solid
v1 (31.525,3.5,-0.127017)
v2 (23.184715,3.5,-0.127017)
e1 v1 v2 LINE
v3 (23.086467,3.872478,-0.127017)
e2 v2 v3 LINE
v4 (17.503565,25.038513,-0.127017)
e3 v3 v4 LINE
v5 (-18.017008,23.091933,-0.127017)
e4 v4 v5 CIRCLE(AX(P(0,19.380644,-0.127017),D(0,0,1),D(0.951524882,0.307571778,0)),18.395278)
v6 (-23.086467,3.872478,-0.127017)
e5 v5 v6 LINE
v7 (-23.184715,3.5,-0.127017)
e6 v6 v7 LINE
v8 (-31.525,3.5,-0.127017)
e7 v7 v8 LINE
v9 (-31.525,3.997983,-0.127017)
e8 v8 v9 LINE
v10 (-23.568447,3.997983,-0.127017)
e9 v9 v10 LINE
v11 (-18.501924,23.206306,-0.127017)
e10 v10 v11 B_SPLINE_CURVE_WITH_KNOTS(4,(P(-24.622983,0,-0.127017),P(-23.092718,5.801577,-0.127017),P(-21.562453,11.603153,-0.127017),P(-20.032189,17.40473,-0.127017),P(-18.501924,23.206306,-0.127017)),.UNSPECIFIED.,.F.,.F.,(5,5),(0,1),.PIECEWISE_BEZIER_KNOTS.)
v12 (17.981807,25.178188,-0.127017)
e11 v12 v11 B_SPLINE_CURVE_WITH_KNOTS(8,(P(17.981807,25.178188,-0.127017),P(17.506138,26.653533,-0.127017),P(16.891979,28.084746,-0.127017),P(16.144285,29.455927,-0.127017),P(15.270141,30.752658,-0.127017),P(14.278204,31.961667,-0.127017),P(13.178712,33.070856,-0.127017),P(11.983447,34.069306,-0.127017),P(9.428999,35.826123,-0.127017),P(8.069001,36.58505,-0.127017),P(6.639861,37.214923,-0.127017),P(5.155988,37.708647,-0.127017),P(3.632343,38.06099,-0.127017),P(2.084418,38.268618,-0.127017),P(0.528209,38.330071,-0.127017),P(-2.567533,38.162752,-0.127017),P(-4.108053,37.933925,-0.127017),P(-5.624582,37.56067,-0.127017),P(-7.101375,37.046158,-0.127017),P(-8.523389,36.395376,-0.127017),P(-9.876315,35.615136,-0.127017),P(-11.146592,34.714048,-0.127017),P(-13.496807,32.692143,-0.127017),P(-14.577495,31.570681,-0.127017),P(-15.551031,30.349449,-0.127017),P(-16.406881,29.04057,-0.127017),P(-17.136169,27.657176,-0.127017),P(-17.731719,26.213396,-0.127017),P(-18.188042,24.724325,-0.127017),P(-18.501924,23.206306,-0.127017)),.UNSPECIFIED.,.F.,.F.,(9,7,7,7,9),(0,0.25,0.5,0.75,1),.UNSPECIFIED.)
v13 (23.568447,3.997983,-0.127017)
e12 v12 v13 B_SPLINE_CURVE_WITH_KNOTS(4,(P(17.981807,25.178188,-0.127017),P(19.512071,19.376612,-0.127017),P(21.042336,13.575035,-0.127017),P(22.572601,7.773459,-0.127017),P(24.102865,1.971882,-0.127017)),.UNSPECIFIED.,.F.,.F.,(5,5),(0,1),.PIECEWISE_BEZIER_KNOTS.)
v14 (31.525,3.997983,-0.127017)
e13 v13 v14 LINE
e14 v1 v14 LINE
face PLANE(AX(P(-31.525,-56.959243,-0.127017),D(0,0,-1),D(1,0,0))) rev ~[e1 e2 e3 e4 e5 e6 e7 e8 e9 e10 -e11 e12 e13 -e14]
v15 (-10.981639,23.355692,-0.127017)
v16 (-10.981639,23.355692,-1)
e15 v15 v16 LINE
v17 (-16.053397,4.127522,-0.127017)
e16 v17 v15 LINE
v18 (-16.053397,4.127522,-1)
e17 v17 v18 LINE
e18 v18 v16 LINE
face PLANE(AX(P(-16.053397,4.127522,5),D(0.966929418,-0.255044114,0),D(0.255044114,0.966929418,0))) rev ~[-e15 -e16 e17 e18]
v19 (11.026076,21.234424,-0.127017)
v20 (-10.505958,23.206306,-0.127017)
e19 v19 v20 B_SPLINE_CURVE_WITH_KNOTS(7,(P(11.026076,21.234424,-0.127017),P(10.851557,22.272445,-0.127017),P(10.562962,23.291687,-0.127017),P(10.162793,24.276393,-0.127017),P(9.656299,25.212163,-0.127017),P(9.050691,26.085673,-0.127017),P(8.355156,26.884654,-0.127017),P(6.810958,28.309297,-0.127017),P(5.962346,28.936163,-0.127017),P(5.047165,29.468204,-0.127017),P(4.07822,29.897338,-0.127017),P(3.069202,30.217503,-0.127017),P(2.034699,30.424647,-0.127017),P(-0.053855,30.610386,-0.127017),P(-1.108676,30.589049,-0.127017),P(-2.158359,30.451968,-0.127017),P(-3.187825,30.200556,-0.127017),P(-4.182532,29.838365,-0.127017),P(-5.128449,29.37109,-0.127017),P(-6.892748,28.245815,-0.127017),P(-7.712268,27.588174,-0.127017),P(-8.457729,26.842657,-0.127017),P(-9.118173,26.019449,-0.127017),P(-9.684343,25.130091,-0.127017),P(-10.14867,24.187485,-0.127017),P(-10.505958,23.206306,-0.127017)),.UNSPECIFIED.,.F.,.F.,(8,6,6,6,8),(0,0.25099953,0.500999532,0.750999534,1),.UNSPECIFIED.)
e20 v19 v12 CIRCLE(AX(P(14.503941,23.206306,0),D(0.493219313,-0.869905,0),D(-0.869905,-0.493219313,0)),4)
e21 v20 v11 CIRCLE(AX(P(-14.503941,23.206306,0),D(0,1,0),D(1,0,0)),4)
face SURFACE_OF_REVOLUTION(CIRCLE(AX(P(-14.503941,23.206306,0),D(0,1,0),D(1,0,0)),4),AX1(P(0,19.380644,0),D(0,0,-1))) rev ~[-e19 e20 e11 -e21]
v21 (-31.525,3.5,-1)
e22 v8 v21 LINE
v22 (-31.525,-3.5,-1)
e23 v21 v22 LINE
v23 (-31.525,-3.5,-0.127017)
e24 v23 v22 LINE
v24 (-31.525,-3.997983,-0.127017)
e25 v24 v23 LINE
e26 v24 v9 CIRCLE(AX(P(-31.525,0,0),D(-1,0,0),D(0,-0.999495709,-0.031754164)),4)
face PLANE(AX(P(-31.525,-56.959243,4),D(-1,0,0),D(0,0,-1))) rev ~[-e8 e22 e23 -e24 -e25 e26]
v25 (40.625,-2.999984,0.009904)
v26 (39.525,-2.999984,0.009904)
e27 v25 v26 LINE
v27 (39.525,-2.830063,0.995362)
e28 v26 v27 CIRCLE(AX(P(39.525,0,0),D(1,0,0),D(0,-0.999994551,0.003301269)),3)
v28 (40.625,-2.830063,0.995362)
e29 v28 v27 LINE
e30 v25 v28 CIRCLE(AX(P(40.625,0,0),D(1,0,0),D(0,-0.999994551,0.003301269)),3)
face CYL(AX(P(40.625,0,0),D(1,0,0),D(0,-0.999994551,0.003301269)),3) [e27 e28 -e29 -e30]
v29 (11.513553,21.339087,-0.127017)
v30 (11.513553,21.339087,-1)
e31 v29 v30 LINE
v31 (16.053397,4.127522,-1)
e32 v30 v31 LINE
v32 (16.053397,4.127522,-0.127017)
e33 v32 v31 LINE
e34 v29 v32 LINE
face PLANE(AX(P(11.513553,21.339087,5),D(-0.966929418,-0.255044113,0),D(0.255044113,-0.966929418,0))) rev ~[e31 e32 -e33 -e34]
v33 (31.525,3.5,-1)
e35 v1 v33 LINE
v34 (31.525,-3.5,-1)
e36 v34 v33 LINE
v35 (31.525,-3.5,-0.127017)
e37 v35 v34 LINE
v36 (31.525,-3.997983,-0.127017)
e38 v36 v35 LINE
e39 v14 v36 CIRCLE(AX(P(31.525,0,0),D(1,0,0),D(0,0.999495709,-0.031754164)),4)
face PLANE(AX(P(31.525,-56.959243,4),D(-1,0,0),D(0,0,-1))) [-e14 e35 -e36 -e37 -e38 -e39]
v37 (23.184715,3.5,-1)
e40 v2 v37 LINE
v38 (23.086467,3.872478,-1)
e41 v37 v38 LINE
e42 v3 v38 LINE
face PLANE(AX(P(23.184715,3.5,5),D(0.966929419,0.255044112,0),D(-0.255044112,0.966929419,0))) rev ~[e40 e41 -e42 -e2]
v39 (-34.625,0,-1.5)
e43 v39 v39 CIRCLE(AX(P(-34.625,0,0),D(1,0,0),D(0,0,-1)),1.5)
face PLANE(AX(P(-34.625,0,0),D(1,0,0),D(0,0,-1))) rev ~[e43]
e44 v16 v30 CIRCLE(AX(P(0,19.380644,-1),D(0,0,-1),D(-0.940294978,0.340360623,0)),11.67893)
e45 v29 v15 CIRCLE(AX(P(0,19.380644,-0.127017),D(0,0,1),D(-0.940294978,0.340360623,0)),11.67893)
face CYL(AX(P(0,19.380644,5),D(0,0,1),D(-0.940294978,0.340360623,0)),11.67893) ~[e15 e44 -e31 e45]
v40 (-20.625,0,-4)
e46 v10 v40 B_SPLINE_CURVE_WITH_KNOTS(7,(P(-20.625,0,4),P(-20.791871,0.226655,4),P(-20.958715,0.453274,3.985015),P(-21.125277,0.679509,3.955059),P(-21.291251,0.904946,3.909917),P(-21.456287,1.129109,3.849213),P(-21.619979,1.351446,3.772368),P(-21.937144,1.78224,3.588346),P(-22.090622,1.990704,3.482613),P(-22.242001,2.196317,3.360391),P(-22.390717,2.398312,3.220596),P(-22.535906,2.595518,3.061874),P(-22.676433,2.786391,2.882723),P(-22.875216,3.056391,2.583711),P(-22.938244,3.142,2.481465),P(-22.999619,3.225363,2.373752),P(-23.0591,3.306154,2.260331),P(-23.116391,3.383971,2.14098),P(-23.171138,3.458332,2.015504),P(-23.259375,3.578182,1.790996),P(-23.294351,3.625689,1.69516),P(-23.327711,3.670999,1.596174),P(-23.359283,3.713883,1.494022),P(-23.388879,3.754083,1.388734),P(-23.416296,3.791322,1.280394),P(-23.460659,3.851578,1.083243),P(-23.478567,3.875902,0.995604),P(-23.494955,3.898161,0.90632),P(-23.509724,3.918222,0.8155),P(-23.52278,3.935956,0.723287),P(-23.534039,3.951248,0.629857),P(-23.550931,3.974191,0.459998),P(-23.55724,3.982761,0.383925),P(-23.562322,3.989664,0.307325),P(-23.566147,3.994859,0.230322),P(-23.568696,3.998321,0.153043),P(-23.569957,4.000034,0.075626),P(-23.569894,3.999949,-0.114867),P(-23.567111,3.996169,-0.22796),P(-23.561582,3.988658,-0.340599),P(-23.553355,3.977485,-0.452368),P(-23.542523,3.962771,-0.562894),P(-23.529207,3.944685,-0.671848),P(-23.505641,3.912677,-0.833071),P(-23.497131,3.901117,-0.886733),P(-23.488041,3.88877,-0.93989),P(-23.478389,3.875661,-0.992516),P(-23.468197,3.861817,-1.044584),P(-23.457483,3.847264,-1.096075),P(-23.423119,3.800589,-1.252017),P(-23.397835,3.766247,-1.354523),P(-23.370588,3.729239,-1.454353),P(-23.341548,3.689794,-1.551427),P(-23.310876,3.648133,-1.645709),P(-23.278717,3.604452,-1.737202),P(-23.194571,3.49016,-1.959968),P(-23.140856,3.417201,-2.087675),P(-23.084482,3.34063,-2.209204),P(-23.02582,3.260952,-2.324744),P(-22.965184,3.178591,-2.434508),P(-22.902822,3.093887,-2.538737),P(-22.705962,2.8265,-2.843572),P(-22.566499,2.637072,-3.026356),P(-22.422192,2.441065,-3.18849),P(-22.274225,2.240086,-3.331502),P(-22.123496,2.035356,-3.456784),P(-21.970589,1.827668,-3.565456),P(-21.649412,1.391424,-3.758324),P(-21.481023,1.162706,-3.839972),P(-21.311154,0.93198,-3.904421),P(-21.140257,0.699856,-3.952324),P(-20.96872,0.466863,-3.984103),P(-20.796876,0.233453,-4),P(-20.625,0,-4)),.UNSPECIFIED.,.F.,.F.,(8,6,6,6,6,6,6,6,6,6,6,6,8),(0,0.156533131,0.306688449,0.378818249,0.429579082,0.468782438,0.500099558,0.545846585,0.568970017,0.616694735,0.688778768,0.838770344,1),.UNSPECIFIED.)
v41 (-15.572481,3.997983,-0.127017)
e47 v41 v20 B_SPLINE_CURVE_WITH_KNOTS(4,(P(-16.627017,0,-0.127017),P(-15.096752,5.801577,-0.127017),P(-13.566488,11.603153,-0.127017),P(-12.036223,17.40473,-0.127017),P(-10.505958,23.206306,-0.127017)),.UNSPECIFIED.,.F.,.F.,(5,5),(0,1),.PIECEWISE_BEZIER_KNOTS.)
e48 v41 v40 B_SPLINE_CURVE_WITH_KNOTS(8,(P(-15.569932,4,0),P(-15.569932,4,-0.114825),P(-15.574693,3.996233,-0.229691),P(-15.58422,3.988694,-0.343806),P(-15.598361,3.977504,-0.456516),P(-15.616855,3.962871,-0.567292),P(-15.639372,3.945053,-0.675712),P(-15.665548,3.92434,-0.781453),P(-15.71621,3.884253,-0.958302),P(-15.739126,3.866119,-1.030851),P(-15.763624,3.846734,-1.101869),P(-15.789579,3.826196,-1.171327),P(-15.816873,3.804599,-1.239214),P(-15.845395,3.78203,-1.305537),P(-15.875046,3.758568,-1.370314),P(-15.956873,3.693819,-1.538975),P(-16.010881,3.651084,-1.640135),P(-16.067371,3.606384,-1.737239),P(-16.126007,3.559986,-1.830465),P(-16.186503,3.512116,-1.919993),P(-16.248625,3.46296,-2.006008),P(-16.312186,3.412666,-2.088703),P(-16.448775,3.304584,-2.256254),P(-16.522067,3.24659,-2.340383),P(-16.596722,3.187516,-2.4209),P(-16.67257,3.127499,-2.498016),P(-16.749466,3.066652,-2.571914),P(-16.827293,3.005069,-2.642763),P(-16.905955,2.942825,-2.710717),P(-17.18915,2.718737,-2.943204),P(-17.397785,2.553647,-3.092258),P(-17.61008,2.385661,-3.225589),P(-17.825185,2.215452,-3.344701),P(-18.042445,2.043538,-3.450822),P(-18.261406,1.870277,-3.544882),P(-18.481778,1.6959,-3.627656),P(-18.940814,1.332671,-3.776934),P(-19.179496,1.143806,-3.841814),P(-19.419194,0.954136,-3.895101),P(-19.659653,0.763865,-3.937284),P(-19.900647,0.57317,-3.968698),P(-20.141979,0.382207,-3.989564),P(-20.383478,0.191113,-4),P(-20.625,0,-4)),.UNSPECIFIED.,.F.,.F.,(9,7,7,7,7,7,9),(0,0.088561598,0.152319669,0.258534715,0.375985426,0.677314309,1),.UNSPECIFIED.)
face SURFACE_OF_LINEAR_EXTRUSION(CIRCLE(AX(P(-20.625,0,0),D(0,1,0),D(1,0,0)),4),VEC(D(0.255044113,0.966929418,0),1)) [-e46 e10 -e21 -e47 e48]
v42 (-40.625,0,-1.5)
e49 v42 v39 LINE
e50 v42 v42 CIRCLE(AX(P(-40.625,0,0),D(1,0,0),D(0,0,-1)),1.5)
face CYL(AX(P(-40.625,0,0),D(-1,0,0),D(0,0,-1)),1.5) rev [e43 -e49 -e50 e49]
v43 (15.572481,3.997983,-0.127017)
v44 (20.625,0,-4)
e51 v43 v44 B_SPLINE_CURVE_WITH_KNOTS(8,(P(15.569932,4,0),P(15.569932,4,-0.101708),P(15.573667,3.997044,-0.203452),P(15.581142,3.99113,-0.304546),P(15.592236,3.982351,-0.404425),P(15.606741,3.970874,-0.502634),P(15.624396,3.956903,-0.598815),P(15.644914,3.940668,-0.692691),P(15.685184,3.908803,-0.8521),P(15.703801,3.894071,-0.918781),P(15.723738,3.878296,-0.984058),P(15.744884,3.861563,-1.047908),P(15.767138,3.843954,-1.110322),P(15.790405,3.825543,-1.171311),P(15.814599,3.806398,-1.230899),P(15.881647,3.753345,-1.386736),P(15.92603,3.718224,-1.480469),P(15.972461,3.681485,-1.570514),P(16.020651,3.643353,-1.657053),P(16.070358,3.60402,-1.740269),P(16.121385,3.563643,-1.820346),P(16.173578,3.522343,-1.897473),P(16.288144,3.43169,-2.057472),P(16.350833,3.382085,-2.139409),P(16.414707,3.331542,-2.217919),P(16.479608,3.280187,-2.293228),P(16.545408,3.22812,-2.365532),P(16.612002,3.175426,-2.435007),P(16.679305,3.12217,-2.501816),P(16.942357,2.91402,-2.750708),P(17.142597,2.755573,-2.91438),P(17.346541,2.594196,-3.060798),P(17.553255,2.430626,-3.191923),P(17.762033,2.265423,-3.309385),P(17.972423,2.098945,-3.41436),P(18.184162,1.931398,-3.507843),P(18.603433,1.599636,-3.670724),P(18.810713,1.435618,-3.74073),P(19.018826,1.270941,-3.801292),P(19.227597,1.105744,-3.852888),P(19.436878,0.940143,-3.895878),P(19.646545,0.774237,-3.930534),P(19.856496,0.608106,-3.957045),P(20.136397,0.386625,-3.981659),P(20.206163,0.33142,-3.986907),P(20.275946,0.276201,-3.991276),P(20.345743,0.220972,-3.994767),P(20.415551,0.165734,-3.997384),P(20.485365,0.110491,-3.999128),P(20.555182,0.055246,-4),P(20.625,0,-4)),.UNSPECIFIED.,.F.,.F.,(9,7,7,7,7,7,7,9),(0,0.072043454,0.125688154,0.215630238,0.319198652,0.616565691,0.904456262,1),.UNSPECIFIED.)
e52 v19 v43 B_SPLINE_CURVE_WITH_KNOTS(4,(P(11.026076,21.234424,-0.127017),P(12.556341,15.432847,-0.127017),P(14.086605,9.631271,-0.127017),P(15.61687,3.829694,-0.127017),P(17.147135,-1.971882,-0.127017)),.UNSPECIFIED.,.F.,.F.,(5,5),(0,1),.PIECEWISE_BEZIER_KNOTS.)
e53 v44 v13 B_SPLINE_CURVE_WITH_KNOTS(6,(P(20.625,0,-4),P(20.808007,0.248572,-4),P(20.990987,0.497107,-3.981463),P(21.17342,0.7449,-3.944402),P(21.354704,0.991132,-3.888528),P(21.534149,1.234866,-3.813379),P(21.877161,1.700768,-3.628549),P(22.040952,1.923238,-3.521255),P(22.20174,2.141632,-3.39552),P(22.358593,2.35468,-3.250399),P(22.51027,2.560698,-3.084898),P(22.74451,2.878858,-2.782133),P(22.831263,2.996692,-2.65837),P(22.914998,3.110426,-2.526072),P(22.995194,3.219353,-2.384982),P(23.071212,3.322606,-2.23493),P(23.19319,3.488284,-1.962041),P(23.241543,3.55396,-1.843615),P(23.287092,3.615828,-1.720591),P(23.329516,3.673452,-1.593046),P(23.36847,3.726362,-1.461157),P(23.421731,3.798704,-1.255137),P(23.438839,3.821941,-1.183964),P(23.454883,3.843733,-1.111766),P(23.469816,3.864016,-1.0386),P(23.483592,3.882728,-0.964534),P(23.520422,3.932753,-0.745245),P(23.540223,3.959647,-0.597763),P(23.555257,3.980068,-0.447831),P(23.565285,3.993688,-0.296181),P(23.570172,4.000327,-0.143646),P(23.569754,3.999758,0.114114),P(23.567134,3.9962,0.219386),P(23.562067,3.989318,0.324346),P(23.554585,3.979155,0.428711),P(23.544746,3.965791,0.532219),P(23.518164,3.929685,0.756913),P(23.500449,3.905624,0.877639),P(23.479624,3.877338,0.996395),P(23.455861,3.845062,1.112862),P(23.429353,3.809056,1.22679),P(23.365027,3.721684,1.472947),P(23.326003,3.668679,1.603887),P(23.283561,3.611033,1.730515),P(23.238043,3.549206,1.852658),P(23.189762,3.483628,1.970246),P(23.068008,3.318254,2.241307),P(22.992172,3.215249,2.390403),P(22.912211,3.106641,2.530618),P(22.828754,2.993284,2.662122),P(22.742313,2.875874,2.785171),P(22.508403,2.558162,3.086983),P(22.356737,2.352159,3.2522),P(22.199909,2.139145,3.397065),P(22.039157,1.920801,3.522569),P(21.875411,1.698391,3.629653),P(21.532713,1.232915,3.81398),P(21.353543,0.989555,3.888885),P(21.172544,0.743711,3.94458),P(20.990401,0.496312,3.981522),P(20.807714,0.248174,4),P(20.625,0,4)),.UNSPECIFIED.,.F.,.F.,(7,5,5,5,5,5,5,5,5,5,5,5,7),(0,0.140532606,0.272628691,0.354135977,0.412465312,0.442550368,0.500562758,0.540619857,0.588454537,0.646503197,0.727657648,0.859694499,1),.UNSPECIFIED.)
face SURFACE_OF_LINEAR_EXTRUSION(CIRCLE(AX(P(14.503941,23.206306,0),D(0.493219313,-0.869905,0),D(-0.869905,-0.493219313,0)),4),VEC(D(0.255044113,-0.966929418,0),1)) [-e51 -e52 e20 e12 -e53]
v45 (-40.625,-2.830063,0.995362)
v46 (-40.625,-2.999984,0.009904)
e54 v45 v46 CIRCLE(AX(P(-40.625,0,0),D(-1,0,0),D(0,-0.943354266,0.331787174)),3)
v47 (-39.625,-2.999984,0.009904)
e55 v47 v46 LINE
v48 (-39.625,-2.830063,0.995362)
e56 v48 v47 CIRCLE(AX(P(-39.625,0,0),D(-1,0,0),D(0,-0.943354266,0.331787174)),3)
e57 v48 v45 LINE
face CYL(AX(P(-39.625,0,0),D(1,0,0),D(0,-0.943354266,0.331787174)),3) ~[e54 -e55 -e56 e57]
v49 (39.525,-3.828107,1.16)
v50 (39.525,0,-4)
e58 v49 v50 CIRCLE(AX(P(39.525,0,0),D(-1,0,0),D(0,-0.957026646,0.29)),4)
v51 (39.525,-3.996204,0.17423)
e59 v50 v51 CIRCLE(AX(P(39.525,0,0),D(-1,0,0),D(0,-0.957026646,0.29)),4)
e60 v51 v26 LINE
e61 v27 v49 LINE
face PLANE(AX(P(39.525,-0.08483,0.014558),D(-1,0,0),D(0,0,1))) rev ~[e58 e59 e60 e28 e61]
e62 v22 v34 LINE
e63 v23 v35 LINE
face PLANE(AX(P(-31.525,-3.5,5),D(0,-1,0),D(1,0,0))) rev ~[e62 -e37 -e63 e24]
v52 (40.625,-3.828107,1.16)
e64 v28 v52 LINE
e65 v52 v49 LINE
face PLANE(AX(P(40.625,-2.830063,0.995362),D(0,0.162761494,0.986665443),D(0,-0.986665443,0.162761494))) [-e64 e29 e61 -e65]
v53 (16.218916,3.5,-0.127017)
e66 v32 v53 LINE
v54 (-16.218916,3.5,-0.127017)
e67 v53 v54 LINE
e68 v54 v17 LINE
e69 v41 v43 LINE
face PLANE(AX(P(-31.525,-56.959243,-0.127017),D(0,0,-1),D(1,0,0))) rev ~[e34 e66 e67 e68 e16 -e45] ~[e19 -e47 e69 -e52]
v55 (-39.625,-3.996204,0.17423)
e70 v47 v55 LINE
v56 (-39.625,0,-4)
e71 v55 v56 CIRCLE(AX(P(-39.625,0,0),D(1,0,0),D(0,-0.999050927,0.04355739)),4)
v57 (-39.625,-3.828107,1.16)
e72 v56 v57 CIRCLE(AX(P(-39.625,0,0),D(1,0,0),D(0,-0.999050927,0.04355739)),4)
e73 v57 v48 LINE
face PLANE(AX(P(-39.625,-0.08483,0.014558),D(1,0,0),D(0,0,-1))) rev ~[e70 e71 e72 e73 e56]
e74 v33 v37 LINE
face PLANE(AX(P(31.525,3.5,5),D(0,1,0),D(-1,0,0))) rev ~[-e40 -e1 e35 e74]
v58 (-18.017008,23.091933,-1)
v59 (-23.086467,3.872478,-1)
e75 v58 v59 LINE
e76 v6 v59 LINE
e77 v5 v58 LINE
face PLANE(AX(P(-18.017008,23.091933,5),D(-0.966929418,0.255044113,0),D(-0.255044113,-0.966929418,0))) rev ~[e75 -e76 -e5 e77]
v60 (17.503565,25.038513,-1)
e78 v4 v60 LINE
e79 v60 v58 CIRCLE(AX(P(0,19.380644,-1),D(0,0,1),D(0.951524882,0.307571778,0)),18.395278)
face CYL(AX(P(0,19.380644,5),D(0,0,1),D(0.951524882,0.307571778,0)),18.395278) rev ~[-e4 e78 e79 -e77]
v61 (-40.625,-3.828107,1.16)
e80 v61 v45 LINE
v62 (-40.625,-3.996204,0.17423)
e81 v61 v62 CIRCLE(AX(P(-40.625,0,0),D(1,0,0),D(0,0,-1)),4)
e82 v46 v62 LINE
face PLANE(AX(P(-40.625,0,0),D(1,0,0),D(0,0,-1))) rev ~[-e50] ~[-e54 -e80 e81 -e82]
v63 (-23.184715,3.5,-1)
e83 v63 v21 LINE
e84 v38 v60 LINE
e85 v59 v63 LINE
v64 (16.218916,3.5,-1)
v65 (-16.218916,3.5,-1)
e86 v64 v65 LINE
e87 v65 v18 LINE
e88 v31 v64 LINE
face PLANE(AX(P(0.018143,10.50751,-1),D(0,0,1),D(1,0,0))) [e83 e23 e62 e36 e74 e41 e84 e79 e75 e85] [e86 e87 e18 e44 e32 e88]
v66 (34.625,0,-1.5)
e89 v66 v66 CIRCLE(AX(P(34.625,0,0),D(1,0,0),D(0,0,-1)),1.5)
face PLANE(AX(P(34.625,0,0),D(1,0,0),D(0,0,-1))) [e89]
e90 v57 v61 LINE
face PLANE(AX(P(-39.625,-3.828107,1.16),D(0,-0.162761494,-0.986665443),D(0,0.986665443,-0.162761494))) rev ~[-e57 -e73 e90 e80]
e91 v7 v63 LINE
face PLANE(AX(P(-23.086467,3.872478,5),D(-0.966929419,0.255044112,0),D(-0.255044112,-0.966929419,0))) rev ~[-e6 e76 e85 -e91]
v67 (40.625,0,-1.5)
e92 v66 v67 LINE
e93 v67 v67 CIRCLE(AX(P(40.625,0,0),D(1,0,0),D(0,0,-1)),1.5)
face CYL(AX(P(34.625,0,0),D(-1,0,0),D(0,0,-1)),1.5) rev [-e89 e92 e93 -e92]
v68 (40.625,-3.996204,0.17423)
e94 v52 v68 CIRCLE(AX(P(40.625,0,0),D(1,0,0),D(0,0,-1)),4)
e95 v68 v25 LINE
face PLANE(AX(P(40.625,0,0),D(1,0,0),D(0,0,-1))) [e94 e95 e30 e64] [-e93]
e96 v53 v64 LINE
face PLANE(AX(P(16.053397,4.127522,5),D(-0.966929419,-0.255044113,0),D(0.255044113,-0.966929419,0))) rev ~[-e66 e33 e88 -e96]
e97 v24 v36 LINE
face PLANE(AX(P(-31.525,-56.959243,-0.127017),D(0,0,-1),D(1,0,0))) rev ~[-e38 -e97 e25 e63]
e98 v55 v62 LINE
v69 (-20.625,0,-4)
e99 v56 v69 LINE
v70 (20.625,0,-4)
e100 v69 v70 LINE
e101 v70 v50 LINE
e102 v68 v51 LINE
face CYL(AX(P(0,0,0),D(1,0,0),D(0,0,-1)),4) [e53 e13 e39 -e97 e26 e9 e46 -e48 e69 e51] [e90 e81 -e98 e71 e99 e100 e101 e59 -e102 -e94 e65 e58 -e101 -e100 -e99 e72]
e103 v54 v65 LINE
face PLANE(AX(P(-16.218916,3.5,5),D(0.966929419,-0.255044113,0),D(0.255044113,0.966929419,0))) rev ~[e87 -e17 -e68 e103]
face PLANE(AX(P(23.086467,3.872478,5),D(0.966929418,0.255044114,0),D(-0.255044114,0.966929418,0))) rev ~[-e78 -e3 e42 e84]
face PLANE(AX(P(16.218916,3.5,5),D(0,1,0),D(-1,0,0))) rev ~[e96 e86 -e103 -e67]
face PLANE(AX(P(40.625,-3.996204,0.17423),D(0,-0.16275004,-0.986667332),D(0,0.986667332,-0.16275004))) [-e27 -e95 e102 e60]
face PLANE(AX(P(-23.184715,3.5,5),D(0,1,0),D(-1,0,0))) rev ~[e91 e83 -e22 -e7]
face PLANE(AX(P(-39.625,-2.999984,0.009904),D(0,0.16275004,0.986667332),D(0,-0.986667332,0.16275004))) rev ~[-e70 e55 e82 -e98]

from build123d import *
from build123d.topology import SkipClean

# Parameters (mm, degrees)
SCHIZZO1_R                    = 4
ESTRUSIONE_ESTRUSIONE1_DEPTH  = 40.625
SCHIZZO3_R                    = 4
TAGLIO_ESTRUSIONE1_START      = 40.625
TAGLIO_ESTRUSIONE1_DEPTH      = 1.1
TAGLIO_ESTRUSIONE2_START      = -39.625
TAGLIO_ESTRUSIONE2_DEPTH      = 1
TAGLIO_ESTRUSIONE3_START      = -40.625
SCHIZZO6_R                    = 1.5
TAGLIO_ESTRUSIONE3_DEPTH      = 6
TAGLIO_ESTRUSIONE4_START      = 34.625
SCHIZZO7_R                    = 1.5
TAGLIO_ESTRUSIONE4_DEPTH      = 6
TAGLIO_ESTRUSIONE5_START      = 5
TAGLIO_ESTRUSIONE5_DEPTH      = 6
TAGLIO_ESTRUSIONE7_DEPTH      = 56.95924295
TAGLIO_ESTRUSIONE7_DEPTH_BACK = 56.95924295
SCHIZZO9_W                    = 63.05
SCHIZZO9_H                    = 4.127016654


with BuildPart() as part:
    # Schizzo1 → Estrusione-Estrusione1 (new, symmetric)
    with BuildSketch(Plane(origin=(0, 0, 0), x_dir=(0, 0, -1), z_dir=(1, 0, 0))):
        Circle(SCHIZZO1_R)
    extrude(amount=ESTRUSIONE_ESTRUSIONE1_DEPTH, both=True)

    # Sweep1: sweep along a path in Schizzo2
    with BuildLine(Plane.XY) as sweep1_path:
        Line((-20.625, 0), (-14.503941276, 23.206306042))
        ThreePointArc((-14.503941276, 23.206306042), (0, 34.380644339), (14.503941276, 23.206306042))
        Line((14.503941276, 23.206306042), (20.625, 0))
    # Schizzo3 → Sweep1 (sweep)
    with BuildSketch(Plane(origin=(0, 0, 0), x_dir=(1, 0, 0), z_dir=(0, 1, 0))):
        with Locations((-20.625, 0)):
            Circle(SCHIZZO3_R)
    sweep(path=sweep1_path.line)

    # Schizzo4 → Taglio-Estrusione1 (cut)
    with BuildSketch(Plane(origin=(0, 0, 0), x_dir=(0, 0, -1), z_dir=(1, 0, 0)).offset(TAGLIO_ESTRUSIONE1_START)):
        with BuildLine():
            ThreePointArc((-0.009903808, -2.999983652), (0.509762562, 2.956373138), (-0.995361521, -2.830062798))
            Line((-0.995361521, -2.830062798), (-1.16, -3.828106582))
            ThreePointArc((-1.16, -3.828106582), (0.672388498, 3.943081753), (-0.174229562, -3.996203706))
            Line((-0.174229562, -3.996203706), (-0.009903808, -2.999983652))
        make_face()
    extrude(amount=-TAGLIO_ESTRUSIONE1_DEPTH, mode=Mode.SUBTRACT)

    # Schizzo5 → Taglio-Estrusione2 (cut)
    with BuildSketch(Plane(origin=(0, 0, 0), x_dir=(0, 0, -1), z_dir=(1, 0, 0)).offset(TAGLIO_ESTRUSIONE2_START)):
        with BuildLine():
            Line((-1.16, -3.828106582), (-0.995361521, -2.830062798))
            ThreePointArc((-0.995361521, -2.830062798), (0.509762562, 2.956373138), (-0.009903808, -2.999983652))
            Line((-0.009903808, -2.999983652), (-0.174229562, -3.996203706))
            ThreePointArc((-0.174229562, -3.996203706), (0.672388498, 3.943081753), (-1.16, -3.828106582))
        make_face()
    extrude(amount=-TAGLIO_ESTRUSIONE2_DEPTH, mode=Mode.SUBTRACT)

    # Schizzo6 → Taglio-Estrusione3 (cut)
    with BuildSketch(Plane(origin=(0, 0, 0), x_dir=(0, 0, -1), z_dir=(1, 0, 0)).offset(TAGLIO_ESTRUSIONE3_START)):
        Circle(SCHIZZO6_R)
    extrude(amount=TAGLIO_ESTRUSIONE3_DEPTH, mode=Mode.SUBTRACT)

    # Schizzo7 → Taglio-Estrusione4 (cut)
    with BuildSketch(Plane(origin=(0, 0, 0), x_dir=(0, 0, -1), z_dir=(1, 0, 0)).offset(TAGLIO_ESTRUSIONE4_START)):
        Circle(SCHIZZO7_R)
    extrude(amount=TAGLIO_ESTRUSIONE4_DEPTH, mode=Mode.SUBTRACT)

    # Schizzo8 → Taglio-Estrusione5 (cut)
    with SkipClean():  # the faces are left unmerged after this step: merging them gives an invalid solid
        with BuildSketch(Plane.XY.offset(TAGLIO_ESTRUSIONE5_START)):
            with BuildLine():
                Line((-31.525, -3.5), (31.525, -3.5))
                Line((31.525, -3.5), (31.525, 3.5))
                Line((31.525, 3.5), (23.184714524, 3.5))
                Line((23.184714524, 3.5), (23.086467119, 3.872477943))
                Line((23.086467119, 3.872477943), (17.503564721, 25.038512689))
                ThreePointArc((17.503564721, 25.038512689), (-1.006578206, 37.748362013), (-18.017008414, 23.091932531))
                Line((-18.017008414, 23.091932531), (-23.086467119, 3.872477943))
                Line((-23.086467119, 3.872477943), (-23.184714524, 3.5))
                Line((-23.184714524, 3.5), (-31.525, 3.5))
                Line((-31.525, 3.5), (-31.525, -3.5))
            make_face()
            with BuildLine():
                Line((-16.053396537, 4.127522057), (-10.981638972, 23.355692138))
                ThreePointArc((-10.981638972, 23.355692138), (1.042788279, 31.012926666), (11.513552997, 21.339086809))
                Line((11.513552997, 21.339086809), (16.053396537, 4.127522057))
                Line((16.053396537, 4.127522057), (16.218916174, 3.5))
                Line((16.218916174, 3.5), (-16.218916174, 3.5))
                Line((-16.218916174, 3.5), (-16.053396537, 4.127522057))
            make_face(mode=Mode.SUBTRACT)
        extrude(amount=-TAGLIO_ESTRUSIONE5_DEPTH, mode=Mode.SUBTRACT)

    # Schizzo9 → Taglio-Estrusione7 (cut, two sides: drawn at the far end of the back side and taken through both)
    with BuildSketch(Plane(origin=(0, 0, 0), x_dir=(1, 0, 0), z_dir=(0, 1, 0)).offset(-TAGLIO_ESTRUSIONE7_DEPTH_BACK)):
        with Locations((0, -1.936491673)):
            Rectangle(SCHIZZO9_W, SCHIZZO9_H)
    extrude(amount=TAGLIO_ESTRUSIONE7_DEPTH + TAGLIO_ESTRUSIONE7_DEPTH_BACK, mode=Mode.SUBTRACT)


solid = part.part
